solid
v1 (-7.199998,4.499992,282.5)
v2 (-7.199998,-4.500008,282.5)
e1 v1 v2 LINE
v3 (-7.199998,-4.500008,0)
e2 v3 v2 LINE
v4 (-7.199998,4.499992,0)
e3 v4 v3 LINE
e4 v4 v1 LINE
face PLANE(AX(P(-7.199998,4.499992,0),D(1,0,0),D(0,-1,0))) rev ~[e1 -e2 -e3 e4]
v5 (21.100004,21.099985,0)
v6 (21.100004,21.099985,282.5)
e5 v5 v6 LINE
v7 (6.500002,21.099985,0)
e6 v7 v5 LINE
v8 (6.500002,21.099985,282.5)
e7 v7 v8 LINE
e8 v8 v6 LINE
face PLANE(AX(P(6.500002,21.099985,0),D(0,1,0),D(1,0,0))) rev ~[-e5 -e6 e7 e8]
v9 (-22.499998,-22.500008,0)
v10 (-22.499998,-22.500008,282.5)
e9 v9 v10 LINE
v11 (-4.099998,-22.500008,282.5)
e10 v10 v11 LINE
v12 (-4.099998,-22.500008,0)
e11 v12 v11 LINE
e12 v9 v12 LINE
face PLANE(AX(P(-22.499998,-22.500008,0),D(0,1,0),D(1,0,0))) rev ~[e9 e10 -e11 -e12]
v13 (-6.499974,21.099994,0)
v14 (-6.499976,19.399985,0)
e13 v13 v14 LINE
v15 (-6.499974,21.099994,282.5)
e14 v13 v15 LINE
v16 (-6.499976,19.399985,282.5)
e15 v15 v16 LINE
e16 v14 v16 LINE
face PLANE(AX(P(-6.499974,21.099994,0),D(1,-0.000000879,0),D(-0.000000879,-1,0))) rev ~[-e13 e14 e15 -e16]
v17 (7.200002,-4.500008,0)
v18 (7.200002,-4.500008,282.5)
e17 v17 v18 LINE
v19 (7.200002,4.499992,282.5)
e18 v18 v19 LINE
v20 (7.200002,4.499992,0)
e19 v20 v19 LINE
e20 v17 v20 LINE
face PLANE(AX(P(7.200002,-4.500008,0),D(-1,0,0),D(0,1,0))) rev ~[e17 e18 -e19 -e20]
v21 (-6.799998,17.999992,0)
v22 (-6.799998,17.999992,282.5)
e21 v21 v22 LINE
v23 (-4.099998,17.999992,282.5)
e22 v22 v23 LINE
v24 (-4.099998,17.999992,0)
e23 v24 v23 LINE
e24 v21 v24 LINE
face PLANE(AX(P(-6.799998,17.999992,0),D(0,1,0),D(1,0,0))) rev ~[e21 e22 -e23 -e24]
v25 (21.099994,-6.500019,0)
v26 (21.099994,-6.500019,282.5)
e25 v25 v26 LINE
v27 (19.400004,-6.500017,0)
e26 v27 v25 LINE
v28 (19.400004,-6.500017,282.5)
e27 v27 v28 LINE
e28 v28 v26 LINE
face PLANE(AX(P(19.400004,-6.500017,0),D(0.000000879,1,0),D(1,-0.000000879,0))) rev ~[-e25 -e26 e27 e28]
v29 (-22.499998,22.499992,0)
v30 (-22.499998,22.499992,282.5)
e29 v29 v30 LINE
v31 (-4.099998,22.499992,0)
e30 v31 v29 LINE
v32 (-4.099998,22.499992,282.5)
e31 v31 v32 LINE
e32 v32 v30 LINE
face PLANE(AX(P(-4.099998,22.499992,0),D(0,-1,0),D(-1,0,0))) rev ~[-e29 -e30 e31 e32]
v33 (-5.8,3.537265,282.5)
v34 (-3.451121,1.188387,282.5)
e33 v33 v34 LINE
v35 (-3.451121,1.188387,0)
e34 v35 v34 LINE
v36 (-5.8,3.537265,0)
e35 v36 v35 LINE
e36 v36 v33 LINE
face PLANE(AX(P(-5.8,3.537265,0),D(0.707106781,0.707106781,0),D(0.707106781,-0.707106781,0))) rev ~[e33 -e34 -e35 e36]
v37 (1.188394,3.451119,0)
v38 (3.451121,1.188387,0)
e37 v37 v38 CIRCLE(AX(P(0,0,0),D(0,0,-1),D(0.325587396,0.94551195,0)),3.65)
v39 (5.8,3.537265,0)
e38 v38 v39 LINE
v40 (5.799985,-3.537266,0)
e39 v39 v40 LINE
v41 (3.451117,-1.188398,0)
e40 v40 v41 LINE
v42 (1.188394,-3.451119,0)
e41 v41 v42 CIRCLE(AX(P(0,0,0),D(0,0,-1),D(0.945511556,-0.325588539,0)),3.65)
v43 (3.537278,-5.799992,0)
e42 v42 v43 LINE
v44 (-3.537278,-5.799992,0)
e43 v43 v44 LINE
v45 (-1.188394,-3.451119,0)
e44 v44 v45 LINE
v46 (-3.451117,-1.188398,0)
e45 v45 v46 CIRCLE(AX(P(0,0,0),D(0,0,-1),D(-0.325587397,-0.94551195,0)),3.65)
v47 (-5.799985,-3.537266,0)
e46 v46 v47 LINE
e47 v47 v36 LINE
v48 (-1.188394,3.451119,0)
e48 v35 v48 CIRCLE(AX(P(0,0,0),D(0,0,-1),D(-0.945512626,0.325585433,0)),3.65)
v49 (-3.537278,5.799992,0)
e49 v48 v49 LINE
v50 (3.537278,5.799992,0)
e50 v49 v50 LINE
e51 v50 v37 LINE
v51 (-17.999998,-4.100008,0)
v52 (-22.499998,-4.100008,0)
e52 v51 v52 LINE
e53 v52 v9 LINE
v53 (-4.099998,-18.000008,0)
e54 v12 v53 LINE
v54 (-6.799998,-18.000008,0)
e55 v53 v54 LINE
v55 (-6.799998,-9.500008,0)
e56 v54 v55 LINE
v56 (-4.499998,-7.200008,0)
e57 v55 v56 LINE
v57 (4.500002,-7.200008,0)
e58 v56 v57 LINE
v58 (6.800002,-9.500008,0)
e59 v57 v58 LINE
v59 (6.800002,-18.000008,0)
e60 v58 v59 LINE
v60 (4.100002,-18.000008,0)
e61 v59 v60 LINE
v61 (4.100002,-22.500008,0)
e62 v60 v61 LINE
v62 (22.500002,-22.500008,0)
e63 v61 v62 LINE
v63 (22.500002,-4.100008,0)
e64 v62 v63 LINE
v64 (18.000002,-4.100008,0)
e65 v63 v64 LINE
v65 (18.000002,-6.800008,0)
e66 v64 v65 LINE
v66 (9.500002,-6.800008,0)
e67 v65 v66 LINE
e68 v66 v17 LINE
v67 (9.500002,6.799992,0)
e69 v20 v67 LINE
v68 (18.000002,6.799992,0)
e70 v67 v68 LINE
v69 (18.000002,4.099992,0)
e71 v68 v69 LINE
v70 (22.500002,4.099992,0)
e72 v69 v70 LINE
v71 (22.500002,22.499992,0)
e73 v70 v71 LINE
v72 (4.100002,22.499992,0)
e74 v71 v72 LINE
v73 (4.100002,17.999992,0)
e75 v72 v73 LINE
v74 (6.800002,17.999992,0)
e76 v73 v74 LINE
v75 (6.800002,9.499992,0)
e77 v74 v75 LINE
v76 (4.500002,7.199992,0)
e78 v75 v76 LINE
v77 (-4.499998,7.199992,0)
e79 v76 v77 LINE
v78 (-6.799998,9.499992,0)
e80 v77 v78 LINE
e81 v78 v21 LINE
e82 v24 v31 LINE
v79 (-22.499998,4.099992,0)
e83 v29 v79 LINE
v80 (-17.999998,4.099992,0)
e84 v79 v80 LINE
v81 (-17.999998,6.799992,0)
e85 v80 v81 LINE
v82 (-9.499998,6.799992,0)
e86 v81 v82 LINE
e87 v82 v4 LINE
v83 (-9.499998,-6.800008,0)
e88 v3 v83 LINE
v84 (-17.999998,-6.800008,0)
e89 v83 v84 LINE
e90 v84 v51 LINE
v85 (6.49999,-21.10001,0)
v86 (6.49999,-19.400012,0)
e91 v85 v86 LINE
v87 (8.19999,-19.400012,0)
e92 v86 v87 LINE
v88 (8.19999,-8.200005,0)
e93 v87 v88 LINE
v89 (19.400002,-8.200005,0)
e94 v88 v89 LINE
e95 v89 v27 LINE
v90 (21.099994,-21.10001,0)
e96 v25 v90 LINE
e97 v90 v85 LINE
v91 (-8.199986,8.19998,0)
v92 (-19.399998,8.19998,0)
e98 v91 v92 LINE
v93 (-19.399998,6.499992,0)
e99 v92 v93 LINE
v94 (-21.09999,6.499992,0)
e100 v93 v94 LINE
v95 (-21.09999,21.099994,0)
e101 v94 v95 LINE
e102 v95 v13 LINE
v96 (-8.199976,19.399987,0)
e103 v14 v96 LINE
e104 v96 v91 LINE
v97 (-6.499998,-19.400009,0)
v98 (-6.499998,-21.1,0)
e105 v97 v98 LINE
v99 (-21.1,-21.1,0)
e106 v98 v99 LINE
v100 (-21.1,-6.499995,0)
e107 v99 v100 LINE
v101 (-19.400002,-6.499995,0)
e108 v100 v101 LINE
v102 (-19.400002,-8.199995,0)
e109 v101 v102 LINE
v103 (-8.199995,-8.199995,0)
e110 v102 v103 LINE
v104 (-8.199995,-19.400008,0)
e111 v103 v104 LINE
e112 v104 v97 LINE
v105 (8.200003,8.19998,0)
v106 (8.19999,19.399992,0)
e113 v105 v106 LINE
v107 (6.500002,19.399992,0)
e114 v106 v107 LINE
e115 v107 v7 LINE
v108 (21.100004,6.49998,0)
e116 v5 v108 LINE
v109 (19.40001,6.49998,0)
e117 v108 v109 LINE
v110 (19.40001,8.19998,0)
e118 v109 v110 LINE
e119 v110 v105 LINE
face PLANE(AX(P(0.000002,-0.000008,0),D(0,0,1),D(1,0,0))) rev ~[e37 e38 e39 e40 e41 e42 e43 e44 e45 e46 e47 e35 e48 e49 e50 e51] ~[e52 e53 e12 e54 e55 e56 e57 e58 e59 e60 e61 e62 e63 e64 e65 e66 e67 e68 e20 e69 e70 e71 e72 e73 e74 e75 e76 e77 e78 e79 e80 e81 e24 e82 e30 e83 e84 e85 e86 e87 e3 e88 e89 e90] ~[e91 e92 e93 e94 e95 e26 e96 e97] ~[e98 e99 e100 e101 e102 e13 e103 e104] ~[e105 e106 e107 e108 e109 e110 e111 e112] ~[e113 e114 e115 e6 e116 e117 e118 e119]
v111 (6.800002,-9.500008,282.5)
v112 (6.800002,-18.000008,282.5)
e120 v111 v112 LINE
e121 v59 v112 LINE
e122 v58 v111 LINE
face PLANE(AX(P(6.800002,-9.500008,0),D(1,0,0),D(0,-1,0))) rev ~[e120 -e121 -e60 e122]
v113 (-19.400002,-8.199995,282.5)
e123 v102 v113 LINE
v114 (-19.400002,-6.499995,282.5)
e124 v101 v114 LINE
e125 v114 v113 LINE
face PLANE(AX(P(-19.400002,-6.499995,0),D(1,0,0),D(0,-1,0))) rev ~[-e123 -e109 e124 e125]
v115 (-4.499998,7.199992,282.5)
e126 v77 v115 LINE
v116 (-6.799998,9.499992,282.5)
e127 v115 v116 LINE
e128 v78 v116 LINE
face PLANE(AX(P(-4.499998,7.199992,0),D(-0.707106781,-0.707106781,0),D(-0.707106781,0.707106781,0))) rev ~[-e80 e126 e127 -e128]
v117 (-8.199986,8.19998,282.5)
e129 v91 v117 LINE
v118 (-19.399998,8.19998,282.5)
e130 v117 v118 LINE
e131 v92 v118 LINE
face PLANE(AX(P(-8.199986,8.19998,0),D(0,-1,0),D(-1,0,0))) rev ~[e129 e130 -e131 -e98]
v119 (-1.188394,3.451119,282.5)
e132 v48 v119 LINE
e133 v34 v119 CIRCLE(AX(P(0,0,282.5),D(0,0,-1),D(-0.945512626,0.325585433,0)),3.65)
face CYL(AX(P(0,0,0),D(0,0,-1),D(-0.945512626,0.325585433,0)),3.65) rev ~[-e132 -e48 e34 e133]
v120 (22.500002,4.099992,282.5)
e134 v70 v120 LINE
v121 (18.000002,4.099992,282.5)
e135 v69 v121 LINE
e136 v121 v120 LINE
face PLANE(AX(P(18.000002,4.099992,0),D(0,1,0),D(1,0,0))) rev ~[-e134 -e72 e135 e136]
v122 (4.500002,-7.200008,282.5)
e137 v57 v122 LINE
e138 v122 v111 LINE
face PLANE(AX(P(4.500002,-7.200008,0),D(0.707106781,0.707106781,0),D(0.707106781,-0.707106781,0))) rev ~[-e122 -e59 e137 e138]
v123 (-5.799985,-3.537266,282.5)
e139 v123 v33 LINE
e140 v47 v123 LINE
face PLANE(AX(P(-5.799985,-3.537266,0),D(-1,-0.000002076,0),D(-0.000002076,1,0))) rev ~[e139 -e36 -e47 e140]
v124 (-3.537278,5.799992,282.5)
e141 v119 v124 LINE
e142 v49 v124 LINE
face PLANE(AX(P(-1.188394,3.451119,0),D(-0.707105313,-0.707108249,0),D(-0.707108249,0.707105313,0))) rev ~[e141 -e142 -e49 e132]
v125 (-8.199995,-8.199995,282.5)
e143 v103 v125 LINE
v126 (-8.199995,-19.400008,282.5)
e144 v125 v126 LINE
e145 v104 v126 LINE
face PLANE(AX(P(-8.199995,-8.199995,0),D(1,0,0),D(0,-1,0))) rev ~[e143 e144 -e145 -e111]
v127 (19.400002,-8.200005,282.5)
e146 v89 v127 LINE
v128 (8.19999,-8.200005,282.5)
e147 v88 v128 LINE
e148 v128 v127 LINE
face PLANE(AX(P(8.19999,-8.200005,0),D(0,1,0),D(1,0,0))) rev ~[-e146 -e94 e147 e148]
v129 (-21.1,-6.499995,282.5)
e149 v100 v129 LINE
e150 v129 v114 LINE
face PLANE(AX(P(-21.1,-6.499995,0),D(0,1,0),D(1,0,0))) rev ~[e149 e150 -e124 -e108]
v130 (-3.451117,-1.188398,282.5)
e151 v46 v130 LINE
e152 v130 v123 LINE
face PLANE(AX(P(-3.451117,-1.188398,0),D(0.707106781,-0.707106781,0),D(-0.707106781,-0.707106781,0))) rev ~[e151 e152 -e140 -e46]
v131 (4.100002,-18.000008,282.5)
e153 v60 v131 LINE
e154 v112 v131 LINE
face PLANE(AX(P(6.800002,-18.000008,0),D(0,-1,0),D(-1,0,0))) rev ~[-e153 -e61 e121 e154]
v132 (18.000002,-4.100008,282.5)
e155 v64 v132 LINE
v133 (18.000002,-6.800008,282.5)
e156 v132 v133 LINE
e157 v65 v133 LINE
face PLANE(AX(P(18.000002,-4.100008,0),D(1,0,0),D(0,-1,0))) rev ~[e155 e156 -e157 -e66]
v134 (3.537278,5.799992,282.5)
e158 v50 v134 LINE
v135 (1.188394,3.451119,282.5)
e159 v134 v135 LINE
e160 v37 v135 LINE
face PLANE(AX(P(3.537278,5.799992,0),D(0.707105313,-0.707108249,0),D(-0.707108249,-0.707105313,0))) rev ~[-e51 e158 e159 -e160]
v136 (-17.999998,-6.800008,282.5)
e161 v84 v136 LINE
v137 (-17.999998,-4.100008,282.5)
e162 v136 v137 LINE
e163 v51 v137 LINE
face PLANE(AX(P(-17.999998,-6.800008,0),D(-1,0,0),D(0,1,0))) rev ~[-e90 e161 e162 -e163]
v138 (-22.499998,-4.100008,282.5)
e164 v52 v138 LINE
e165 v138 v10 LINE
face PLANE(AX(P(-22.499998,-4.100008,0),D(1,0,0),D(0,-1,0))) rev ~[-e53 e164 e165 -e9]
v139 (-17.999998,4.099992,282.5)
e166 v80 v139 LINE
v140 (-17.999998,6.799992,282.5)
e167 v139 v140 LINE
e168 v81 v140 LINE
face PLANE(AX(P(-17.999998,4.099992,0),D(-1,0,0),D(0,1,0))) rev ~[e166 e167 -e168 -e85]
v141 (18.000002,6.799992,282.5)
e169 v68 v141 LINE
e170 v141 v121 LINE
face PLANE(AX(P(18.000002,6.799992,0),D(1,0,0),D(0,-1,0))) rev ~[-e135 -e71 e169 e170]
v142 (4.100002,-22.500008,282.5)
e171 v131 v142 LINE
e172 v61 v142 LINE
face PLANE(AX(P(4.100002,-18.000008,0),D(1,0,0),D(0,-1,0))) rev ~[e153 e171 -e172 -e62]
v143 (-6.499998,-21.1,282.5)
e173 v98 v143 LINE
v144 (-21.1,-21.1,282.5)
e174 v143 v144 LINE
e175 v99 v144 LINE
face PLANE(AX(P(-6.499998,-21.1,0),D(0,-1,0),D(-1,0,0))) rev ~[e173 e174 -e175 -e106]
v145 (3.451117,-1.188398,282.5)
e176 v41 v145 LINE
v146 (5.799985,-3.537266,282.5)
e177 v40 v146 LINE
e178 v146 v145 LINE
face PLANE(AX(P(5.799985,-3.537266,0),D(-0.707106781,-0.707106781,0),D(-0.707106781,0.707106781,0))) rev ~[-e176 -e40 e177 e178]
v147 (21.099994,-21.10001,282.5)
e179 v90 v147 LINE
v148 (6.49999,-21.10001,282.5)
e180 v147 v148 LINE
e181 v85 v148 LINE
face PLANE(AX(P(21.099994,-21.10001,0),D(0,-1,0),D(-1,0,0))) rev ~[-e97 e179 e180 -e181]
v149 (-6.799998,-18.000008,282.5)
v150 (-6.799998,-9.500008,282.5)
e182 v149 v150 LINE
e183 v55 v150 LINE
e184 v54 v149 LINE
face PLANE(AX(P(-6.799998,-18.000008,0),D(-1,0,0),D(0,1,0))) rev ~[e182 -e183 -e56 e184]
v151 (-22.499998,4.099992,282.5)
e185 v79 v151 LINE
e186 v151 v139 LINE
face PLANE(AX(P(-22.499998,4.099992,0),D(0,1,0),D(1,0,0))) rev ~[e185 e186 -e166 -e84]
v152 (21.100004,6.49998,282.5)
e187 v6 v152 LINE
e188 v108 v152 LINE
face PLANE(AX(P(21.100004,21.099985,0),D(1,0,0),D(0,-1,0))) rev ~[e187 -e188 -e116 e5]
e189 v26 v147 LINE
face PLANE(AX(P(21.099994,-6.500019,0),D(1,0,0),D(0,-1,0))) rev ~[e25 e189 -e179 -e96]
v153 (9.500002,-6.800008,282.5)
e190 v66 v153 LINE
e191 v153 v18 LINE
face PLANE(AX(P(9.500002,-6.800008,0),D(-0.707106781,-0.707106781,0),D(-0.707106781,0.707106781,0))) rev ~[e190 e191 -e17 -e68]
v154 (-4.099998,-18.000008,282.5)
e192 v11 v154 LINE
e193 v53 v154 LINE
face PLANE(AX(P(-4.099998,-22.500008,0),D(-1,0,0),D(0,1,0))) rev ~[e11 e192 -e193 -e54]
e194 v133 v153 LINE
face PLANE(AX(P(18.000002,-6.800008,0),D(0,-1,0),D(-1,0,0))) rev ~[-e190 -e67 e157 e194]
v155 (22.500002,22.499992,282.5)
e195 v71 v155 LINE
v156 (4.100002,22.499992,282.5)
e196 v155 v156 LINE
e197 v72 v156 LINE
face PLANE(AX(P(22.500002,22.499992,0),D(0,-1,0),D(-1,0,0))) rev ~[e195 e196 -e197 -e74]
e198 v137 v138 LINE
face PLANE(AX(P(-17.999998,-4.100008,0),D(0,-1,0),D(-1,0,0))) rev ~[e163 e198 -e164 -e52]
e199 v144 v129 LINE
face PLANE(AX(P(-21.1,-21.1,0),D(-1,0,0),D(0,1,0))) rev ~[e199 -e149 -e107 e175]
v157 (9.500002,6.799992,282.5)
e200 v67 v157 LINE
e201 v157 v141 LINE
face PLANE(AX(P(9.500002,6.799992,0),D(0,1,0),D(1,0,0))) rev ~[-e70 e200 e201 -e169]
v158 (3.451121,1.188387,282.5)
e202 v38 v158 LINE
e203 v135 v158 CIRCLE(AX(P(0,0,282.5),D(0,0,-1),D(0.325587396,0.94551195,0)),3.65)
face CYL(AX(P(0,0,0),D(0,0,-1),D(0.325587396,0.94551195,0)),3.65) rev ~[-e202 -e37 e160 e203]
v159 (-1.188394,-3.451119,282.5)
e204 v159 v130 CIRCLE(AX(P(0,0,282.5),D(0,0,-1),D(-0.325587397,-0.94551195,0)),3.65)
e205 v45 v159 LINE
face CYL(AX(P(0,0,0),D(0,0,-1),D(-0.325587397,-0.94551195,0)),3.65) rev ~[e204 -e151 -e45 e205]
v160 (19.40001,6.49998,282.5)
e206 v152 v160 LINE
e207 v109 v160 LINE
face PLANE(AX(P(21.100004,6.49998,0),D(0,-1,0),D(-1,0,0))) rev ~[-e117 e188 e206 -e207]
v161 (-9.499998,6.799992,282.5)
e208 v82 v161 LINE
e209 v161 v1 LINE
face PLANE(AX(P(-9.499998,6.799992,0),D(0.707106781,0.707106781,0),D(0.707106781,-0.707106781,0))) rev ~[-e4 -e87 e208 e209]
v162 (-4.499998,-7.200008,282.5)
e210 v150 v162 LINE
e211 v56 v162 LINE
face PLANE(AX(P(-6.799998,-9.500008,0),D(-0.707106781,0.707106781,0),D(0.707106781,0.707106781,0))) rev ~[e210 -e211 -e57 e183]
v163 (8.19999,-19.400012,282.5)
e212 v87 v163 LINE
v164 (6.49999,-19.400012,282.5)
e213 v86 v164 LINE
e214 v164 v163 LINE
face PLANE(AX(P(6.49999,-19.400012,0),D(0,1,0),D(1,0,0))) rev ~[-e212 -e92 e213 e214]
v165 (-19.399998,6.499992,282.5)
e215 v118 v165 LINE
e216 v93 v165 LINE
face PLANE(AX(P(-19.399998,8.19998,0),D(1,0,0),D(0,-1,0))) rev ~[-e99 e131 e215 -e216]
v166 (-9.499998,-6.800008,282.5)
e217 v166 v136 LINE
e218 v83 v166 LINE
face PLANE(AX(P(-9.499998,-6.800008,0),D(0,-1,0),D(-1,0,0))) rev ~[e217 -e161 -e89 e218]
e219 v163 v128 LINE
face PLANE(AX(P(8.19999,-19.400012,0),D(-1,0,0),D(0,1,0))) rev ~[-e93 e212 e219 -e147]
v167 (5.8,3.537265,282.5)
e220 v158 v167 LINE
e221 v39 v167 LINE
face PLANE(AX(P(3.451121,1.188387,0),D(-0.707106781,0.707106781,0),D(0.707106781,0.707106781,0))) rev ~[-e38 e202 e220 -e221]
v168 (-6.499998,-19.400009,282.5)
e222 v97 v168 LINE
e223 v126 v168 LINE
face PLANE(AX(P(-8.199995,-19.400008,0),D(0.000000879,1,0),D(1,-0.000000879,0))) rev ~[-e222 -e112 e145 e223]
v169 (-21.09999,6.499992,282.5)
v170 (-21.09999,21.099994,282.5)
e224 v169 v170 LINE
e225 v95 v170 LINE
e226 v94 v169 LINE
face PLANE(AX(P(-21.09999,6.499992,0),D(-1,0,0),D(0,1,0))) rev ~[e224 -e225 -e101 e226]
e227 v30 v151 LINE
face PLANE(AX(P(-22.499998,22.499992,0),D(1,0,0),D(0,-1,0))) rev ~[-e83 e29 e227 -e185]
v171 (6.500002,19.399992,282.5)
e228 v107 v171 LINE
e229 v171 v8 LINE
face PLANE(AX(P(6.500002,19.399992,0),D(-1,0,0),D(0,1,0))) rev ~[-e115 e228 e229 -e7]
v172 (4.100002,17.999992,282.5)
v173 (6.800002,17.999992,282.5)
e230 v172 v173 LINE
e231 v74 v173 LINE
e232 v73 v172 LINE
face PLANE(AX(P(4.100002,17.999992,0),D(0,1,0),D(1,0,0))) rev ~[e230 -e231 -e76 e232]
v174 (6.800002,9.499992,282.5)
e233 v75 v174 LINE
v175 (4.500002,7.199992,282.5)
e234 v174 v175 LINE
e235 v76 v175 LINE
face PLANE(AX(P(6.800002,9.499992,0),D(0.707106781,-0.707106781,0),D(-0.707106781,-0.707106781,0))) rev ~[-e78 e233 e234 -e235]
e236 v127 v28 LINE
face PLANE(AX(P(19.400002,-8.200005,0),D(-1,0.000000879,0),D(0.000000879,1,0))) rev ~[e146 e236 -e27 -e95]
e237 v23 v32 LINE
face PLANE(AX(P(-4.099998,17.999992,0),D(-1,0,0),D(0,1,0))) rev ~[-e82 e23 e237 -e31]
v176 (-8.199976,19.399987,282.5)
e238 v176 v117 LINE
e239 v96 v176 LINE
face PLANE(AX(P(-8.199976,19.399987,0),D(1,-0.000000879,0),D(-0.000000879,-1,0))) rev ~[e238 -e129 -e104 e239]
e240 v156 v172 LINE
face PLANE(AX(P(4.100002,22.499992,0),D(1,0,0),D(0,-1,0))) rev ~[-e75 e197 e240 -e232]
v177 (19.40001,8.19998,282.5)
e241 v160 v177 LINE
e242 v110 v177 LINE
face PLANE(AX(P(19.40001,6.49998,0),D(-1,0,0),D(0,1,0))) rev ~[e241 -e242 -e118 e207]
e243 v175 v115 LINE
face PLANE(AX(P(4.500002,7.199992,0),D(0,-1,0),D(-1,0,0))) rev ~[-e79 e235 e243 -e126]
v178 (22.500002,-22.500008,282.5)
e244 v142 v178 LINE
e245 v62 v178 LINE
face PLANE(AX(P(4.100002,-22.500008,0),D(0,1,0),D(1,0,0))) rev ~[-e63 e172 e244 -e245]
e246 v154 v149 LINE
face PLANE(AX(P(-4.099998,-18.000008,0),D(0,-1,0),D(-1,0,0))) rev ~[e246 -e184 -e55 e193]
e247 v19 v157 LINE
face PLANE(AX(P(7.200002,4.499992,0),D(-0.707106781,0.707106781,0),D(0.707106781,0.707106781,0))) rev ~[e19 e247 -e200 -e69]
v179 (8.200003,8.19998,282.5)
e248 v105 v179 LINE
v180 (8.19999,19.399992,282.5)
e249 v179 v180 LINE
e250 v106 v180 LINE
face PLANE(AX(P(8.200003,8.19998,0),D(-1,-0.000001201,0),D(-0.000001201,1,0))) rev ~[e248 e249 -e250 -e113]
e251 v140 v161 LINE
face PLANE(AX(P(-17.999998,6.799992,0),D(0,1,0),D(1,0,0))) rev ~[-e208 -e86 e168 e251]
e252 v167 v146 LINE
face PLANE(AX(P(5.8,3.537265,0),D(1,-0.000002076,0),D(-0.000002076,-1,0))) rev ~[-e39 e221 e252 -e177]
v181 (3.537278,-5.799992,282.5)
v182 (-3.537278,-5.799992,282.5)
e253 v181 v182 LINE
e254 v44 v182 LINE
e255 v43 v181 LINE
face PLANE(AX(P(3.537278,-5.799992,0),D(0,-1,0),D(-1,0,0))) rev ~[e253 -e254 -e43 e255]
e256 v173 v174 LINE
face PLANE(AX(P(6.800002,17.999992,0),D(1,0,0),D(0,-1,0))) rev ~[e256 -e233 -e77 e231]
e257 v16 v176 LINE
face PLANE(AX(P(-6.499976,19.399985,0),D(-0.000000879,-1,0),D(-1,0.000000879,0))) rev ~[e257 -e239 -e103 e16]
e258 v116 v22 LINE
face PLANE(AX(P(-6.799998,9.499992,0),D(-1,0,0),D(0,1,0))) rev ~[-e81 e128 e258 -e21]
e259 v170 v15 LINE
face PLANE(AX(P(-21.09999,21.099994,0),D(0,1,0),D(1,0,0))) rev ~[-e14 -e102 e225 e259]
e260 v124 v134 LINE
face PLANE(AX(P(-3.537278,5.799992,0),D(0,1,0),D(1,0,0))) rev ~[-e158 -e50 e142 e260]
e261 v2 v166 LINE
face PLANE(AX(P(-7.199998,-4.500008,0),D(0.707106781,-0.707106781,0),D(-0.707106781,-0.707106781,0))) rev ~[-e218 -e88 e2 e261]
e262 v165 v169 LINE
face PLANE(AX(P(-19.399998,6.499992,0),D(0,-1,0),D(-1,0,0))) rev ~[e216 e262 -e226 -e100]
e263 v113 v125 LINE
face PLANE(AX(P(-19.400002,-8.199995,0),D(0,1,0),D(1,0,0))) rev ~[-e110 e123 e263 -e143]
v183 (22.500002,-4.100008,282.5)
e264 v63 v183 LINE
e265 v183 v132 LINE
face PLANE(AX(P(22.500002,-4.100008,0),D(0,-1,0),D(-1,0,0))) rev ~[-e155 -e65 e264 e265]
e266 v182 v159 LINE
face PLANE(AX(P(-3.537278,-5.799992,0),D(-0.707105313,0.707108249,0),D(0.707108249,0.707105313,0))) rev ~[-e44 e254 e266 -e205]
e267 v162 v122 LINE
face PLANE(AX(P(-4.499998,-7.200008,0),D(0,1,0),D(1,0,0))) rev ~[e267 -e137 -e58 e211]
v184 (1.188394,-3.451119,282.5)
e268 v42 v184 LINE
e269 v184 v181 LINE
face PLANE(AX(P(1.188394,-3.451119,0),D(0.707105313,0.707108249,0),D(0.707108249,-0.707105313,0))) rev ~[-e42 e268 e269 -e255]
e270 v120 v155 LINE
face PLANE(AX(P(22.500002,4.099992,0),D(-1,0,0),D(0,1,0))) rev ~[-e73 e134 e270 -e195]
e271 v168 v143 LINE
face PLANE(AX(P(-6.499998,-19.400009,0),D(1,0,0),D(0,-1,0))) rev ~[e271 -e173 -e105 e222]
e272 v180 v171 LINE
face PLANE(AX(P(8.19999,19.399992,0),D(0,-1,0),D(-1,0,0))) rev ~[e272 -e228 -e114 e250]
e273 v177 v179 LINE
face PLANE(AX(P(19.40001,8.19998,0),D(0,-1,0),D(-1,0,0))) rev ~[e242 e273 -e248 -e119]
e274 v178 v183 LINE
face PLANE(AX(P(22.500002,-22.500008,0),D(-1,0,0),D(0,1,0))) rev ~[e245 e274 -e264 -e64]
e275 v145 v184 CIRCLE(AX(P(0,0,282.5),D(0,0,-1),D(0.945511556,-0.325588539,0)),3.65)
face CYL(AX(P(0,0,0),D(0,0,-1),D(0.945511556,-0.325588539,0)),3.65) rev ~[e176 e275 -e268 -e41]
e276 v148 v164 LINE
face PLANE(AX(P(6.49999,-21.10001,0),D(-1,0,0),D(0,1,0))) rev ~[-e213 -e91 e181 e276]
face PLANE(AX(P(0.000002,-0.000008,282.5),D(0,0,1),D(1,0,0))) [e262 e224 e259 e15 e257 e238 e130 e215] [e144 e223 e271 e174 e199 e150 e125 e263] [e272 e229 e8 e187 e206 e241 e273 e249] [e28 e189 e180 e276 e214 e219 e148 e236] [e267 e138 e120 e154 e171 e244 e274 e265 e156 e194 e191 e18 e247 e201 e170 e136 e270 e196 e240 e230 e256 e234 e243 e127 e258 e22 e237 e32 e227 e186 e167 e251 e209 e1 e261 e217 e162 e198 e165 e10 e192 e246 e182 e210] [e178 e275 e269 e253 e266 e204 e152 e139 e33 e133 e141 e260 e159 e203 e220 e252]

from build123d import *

# Parameters (mm, degrees)
BOSS_EXTRUDE1_DEPTH = 282.5


with BuildPart() as part:
    # Sketch1 → Boss-Extrude1 (new body)
    with BuildSketch(Plane.XY):
        Polygon((-22.499997904, -22.500007621), (-4.099997904, -22.500007621), (-4.099997904, -18.000007621), (-6.799997904, -18.000007621), (-6.799997904, -9.500007621), (-4.499997904, -7.200007621), (4.500002096, -7.200007621), (6.800002096, -9.500007621), (6.800002096, -18.000007621), (4.100002096, -18.000007621), (4.100002096, -22.500007621), (22.500002096, -22.500007621), (22.500002096, -4.100007621), (18.000002096, -4.100007621), (18.000002096, -6.800007621), (9.500002096, -6.800007621), (7.200002096, -4.500007621), (7.200002096, 4.499992379), (9.500002096, 6.799992379), (18.000002096, 6.799992379), (18.000002096, 4.099992379), (22.500002096, 4.099992379), (22.500002096, 22.499992379), (4.100002096, 22.499992379), (4.100002096, 17.999992379), (6.800002096, 17.999992379), (6.800002096, 9.499992379), (4.500002096, 7.199992379), (-4.499997904, 7.199992379), (-6.799997904, 9.499992379), (-6.799997904, 17.999992379), (-4.099997904, 17.999992379), (-4.099997904, 22.499992379), (-22.499997904, 22.499992379), (-22.499997904, 4.099992379), (-17.999997904, 4.099992379), (-17.999997904, 6.799992379), (-9.499997904, 6.799992379), (-7.199997904, 4.499992379), (-7.199997904, -4.500007621), (-9.499997904, -6.800007621), (-17.999997904, -6.800007621), (-17.999997904, -4.100007621), (-22.499997904, -4.100007621), align=None)
        Polygon((8.200003223, 8.199980186), (8.199989777, 19.399992368), (6.500002085, 19.399992368), (6.500002085, 21.099984758), (21.100004192, 21.099984758), (21.100004192, 6.499980188), (19.400009891, 6.499980188), (19.400009891, 8.199980186), align=None, mode=Mode.SUBTRACT)
        Polygon((-19.399997893, 6.499992368), (-21.099990283, 6.499992368), (-21.099990283, 21.099994475), (-6.499974376, 21.099994475), (-6.49997587, 19.399985233), (-8.199975868, 19.399986727), (-8.199985712, 8.19998006), (-19.399997893, 8.19998006), align=None, mode=Mode.SUBTRACT)
        Polygon((-6.499997893, -21.1), (-21.1, -21.1), (-21.1, -6.499995431), (-19.400002096, -6.499995431), (-19.400002096, -8.199995429), (-8.199995429, -8.199995429), (-8.199995429, -19.40000761), (-6.499997893, -19.400009104), align=None, mode=Mode.SUBTRACT)
        Polygon((6.499989905, -19.400011813), (8.199989903, -19.400011813), (8.199989903, -8.200005146), (19.400002085, -8.200005146), (19.400003579, -6.500017454), (21.099994475, -6.500018948), (21.099994475, -21.100009717), (6.499989905, -21.100009717), align=None, mode=Mode.SUBTRACT)
        with BuildLine():
            Line((-5.799999723, 3.537265469), (-3.451121085, 1.18838683))
            ThreePointArc((-3.451121085, 1.18838683), (-2.580942431, 2.580937072), (-1.188393996, 3.451118617))
            Line((-1.188393996, 3.451118617), (-3.537277512, 5.799992379))
            Line((-3.537277512, 5.799992379), (3.537277512, 5.799992379))
            Line((3.537277512, 5.799992379), (1.188393996, 3.451118617))
            ThreePointArc((1.188393996, 3.451118617), (2.580942431, 2.580937072), (3.451121085, 1.18838683))
            Line((3.451121085, 1.18838683), (5.799999723, 3.537265469))
            Line((5.799999723, 3.537265469), (5.799985034, -3.537266022))
            Line((5.799985034, -3.537266022), (3.451117181, -1.188398168))
            ThreePointArc((3.451117181, -1.188398168), (2.580938191, -2.580941312), (1.188393996, -3.451118617))
            Line((1.188393996, -3.451118617), (3.537277512, -5.799992379))
            Line((3.537277512, -5.799992379), (-3.537277512, -5.799992379))
            Line((-3.537277512, -5.799992379), (-1.188393996, -3.451118617))
            ThreePointArc((-1.188393996, -3.451118617), (-2.580938191, -2.580941311), (-3.451117181, -1.188398168))
            Line((-3.451117181, -1.188398168), (-5.799985034, -3.537266022))
            Line((-5.799985034, -3.537266022), (-5.799999723, 3.537265469))
        make_face(mode=Mode.SUBTRACT)
    extrude(amount=BOSS_EXTRUDE1_DEPTH)


solid = part.part
